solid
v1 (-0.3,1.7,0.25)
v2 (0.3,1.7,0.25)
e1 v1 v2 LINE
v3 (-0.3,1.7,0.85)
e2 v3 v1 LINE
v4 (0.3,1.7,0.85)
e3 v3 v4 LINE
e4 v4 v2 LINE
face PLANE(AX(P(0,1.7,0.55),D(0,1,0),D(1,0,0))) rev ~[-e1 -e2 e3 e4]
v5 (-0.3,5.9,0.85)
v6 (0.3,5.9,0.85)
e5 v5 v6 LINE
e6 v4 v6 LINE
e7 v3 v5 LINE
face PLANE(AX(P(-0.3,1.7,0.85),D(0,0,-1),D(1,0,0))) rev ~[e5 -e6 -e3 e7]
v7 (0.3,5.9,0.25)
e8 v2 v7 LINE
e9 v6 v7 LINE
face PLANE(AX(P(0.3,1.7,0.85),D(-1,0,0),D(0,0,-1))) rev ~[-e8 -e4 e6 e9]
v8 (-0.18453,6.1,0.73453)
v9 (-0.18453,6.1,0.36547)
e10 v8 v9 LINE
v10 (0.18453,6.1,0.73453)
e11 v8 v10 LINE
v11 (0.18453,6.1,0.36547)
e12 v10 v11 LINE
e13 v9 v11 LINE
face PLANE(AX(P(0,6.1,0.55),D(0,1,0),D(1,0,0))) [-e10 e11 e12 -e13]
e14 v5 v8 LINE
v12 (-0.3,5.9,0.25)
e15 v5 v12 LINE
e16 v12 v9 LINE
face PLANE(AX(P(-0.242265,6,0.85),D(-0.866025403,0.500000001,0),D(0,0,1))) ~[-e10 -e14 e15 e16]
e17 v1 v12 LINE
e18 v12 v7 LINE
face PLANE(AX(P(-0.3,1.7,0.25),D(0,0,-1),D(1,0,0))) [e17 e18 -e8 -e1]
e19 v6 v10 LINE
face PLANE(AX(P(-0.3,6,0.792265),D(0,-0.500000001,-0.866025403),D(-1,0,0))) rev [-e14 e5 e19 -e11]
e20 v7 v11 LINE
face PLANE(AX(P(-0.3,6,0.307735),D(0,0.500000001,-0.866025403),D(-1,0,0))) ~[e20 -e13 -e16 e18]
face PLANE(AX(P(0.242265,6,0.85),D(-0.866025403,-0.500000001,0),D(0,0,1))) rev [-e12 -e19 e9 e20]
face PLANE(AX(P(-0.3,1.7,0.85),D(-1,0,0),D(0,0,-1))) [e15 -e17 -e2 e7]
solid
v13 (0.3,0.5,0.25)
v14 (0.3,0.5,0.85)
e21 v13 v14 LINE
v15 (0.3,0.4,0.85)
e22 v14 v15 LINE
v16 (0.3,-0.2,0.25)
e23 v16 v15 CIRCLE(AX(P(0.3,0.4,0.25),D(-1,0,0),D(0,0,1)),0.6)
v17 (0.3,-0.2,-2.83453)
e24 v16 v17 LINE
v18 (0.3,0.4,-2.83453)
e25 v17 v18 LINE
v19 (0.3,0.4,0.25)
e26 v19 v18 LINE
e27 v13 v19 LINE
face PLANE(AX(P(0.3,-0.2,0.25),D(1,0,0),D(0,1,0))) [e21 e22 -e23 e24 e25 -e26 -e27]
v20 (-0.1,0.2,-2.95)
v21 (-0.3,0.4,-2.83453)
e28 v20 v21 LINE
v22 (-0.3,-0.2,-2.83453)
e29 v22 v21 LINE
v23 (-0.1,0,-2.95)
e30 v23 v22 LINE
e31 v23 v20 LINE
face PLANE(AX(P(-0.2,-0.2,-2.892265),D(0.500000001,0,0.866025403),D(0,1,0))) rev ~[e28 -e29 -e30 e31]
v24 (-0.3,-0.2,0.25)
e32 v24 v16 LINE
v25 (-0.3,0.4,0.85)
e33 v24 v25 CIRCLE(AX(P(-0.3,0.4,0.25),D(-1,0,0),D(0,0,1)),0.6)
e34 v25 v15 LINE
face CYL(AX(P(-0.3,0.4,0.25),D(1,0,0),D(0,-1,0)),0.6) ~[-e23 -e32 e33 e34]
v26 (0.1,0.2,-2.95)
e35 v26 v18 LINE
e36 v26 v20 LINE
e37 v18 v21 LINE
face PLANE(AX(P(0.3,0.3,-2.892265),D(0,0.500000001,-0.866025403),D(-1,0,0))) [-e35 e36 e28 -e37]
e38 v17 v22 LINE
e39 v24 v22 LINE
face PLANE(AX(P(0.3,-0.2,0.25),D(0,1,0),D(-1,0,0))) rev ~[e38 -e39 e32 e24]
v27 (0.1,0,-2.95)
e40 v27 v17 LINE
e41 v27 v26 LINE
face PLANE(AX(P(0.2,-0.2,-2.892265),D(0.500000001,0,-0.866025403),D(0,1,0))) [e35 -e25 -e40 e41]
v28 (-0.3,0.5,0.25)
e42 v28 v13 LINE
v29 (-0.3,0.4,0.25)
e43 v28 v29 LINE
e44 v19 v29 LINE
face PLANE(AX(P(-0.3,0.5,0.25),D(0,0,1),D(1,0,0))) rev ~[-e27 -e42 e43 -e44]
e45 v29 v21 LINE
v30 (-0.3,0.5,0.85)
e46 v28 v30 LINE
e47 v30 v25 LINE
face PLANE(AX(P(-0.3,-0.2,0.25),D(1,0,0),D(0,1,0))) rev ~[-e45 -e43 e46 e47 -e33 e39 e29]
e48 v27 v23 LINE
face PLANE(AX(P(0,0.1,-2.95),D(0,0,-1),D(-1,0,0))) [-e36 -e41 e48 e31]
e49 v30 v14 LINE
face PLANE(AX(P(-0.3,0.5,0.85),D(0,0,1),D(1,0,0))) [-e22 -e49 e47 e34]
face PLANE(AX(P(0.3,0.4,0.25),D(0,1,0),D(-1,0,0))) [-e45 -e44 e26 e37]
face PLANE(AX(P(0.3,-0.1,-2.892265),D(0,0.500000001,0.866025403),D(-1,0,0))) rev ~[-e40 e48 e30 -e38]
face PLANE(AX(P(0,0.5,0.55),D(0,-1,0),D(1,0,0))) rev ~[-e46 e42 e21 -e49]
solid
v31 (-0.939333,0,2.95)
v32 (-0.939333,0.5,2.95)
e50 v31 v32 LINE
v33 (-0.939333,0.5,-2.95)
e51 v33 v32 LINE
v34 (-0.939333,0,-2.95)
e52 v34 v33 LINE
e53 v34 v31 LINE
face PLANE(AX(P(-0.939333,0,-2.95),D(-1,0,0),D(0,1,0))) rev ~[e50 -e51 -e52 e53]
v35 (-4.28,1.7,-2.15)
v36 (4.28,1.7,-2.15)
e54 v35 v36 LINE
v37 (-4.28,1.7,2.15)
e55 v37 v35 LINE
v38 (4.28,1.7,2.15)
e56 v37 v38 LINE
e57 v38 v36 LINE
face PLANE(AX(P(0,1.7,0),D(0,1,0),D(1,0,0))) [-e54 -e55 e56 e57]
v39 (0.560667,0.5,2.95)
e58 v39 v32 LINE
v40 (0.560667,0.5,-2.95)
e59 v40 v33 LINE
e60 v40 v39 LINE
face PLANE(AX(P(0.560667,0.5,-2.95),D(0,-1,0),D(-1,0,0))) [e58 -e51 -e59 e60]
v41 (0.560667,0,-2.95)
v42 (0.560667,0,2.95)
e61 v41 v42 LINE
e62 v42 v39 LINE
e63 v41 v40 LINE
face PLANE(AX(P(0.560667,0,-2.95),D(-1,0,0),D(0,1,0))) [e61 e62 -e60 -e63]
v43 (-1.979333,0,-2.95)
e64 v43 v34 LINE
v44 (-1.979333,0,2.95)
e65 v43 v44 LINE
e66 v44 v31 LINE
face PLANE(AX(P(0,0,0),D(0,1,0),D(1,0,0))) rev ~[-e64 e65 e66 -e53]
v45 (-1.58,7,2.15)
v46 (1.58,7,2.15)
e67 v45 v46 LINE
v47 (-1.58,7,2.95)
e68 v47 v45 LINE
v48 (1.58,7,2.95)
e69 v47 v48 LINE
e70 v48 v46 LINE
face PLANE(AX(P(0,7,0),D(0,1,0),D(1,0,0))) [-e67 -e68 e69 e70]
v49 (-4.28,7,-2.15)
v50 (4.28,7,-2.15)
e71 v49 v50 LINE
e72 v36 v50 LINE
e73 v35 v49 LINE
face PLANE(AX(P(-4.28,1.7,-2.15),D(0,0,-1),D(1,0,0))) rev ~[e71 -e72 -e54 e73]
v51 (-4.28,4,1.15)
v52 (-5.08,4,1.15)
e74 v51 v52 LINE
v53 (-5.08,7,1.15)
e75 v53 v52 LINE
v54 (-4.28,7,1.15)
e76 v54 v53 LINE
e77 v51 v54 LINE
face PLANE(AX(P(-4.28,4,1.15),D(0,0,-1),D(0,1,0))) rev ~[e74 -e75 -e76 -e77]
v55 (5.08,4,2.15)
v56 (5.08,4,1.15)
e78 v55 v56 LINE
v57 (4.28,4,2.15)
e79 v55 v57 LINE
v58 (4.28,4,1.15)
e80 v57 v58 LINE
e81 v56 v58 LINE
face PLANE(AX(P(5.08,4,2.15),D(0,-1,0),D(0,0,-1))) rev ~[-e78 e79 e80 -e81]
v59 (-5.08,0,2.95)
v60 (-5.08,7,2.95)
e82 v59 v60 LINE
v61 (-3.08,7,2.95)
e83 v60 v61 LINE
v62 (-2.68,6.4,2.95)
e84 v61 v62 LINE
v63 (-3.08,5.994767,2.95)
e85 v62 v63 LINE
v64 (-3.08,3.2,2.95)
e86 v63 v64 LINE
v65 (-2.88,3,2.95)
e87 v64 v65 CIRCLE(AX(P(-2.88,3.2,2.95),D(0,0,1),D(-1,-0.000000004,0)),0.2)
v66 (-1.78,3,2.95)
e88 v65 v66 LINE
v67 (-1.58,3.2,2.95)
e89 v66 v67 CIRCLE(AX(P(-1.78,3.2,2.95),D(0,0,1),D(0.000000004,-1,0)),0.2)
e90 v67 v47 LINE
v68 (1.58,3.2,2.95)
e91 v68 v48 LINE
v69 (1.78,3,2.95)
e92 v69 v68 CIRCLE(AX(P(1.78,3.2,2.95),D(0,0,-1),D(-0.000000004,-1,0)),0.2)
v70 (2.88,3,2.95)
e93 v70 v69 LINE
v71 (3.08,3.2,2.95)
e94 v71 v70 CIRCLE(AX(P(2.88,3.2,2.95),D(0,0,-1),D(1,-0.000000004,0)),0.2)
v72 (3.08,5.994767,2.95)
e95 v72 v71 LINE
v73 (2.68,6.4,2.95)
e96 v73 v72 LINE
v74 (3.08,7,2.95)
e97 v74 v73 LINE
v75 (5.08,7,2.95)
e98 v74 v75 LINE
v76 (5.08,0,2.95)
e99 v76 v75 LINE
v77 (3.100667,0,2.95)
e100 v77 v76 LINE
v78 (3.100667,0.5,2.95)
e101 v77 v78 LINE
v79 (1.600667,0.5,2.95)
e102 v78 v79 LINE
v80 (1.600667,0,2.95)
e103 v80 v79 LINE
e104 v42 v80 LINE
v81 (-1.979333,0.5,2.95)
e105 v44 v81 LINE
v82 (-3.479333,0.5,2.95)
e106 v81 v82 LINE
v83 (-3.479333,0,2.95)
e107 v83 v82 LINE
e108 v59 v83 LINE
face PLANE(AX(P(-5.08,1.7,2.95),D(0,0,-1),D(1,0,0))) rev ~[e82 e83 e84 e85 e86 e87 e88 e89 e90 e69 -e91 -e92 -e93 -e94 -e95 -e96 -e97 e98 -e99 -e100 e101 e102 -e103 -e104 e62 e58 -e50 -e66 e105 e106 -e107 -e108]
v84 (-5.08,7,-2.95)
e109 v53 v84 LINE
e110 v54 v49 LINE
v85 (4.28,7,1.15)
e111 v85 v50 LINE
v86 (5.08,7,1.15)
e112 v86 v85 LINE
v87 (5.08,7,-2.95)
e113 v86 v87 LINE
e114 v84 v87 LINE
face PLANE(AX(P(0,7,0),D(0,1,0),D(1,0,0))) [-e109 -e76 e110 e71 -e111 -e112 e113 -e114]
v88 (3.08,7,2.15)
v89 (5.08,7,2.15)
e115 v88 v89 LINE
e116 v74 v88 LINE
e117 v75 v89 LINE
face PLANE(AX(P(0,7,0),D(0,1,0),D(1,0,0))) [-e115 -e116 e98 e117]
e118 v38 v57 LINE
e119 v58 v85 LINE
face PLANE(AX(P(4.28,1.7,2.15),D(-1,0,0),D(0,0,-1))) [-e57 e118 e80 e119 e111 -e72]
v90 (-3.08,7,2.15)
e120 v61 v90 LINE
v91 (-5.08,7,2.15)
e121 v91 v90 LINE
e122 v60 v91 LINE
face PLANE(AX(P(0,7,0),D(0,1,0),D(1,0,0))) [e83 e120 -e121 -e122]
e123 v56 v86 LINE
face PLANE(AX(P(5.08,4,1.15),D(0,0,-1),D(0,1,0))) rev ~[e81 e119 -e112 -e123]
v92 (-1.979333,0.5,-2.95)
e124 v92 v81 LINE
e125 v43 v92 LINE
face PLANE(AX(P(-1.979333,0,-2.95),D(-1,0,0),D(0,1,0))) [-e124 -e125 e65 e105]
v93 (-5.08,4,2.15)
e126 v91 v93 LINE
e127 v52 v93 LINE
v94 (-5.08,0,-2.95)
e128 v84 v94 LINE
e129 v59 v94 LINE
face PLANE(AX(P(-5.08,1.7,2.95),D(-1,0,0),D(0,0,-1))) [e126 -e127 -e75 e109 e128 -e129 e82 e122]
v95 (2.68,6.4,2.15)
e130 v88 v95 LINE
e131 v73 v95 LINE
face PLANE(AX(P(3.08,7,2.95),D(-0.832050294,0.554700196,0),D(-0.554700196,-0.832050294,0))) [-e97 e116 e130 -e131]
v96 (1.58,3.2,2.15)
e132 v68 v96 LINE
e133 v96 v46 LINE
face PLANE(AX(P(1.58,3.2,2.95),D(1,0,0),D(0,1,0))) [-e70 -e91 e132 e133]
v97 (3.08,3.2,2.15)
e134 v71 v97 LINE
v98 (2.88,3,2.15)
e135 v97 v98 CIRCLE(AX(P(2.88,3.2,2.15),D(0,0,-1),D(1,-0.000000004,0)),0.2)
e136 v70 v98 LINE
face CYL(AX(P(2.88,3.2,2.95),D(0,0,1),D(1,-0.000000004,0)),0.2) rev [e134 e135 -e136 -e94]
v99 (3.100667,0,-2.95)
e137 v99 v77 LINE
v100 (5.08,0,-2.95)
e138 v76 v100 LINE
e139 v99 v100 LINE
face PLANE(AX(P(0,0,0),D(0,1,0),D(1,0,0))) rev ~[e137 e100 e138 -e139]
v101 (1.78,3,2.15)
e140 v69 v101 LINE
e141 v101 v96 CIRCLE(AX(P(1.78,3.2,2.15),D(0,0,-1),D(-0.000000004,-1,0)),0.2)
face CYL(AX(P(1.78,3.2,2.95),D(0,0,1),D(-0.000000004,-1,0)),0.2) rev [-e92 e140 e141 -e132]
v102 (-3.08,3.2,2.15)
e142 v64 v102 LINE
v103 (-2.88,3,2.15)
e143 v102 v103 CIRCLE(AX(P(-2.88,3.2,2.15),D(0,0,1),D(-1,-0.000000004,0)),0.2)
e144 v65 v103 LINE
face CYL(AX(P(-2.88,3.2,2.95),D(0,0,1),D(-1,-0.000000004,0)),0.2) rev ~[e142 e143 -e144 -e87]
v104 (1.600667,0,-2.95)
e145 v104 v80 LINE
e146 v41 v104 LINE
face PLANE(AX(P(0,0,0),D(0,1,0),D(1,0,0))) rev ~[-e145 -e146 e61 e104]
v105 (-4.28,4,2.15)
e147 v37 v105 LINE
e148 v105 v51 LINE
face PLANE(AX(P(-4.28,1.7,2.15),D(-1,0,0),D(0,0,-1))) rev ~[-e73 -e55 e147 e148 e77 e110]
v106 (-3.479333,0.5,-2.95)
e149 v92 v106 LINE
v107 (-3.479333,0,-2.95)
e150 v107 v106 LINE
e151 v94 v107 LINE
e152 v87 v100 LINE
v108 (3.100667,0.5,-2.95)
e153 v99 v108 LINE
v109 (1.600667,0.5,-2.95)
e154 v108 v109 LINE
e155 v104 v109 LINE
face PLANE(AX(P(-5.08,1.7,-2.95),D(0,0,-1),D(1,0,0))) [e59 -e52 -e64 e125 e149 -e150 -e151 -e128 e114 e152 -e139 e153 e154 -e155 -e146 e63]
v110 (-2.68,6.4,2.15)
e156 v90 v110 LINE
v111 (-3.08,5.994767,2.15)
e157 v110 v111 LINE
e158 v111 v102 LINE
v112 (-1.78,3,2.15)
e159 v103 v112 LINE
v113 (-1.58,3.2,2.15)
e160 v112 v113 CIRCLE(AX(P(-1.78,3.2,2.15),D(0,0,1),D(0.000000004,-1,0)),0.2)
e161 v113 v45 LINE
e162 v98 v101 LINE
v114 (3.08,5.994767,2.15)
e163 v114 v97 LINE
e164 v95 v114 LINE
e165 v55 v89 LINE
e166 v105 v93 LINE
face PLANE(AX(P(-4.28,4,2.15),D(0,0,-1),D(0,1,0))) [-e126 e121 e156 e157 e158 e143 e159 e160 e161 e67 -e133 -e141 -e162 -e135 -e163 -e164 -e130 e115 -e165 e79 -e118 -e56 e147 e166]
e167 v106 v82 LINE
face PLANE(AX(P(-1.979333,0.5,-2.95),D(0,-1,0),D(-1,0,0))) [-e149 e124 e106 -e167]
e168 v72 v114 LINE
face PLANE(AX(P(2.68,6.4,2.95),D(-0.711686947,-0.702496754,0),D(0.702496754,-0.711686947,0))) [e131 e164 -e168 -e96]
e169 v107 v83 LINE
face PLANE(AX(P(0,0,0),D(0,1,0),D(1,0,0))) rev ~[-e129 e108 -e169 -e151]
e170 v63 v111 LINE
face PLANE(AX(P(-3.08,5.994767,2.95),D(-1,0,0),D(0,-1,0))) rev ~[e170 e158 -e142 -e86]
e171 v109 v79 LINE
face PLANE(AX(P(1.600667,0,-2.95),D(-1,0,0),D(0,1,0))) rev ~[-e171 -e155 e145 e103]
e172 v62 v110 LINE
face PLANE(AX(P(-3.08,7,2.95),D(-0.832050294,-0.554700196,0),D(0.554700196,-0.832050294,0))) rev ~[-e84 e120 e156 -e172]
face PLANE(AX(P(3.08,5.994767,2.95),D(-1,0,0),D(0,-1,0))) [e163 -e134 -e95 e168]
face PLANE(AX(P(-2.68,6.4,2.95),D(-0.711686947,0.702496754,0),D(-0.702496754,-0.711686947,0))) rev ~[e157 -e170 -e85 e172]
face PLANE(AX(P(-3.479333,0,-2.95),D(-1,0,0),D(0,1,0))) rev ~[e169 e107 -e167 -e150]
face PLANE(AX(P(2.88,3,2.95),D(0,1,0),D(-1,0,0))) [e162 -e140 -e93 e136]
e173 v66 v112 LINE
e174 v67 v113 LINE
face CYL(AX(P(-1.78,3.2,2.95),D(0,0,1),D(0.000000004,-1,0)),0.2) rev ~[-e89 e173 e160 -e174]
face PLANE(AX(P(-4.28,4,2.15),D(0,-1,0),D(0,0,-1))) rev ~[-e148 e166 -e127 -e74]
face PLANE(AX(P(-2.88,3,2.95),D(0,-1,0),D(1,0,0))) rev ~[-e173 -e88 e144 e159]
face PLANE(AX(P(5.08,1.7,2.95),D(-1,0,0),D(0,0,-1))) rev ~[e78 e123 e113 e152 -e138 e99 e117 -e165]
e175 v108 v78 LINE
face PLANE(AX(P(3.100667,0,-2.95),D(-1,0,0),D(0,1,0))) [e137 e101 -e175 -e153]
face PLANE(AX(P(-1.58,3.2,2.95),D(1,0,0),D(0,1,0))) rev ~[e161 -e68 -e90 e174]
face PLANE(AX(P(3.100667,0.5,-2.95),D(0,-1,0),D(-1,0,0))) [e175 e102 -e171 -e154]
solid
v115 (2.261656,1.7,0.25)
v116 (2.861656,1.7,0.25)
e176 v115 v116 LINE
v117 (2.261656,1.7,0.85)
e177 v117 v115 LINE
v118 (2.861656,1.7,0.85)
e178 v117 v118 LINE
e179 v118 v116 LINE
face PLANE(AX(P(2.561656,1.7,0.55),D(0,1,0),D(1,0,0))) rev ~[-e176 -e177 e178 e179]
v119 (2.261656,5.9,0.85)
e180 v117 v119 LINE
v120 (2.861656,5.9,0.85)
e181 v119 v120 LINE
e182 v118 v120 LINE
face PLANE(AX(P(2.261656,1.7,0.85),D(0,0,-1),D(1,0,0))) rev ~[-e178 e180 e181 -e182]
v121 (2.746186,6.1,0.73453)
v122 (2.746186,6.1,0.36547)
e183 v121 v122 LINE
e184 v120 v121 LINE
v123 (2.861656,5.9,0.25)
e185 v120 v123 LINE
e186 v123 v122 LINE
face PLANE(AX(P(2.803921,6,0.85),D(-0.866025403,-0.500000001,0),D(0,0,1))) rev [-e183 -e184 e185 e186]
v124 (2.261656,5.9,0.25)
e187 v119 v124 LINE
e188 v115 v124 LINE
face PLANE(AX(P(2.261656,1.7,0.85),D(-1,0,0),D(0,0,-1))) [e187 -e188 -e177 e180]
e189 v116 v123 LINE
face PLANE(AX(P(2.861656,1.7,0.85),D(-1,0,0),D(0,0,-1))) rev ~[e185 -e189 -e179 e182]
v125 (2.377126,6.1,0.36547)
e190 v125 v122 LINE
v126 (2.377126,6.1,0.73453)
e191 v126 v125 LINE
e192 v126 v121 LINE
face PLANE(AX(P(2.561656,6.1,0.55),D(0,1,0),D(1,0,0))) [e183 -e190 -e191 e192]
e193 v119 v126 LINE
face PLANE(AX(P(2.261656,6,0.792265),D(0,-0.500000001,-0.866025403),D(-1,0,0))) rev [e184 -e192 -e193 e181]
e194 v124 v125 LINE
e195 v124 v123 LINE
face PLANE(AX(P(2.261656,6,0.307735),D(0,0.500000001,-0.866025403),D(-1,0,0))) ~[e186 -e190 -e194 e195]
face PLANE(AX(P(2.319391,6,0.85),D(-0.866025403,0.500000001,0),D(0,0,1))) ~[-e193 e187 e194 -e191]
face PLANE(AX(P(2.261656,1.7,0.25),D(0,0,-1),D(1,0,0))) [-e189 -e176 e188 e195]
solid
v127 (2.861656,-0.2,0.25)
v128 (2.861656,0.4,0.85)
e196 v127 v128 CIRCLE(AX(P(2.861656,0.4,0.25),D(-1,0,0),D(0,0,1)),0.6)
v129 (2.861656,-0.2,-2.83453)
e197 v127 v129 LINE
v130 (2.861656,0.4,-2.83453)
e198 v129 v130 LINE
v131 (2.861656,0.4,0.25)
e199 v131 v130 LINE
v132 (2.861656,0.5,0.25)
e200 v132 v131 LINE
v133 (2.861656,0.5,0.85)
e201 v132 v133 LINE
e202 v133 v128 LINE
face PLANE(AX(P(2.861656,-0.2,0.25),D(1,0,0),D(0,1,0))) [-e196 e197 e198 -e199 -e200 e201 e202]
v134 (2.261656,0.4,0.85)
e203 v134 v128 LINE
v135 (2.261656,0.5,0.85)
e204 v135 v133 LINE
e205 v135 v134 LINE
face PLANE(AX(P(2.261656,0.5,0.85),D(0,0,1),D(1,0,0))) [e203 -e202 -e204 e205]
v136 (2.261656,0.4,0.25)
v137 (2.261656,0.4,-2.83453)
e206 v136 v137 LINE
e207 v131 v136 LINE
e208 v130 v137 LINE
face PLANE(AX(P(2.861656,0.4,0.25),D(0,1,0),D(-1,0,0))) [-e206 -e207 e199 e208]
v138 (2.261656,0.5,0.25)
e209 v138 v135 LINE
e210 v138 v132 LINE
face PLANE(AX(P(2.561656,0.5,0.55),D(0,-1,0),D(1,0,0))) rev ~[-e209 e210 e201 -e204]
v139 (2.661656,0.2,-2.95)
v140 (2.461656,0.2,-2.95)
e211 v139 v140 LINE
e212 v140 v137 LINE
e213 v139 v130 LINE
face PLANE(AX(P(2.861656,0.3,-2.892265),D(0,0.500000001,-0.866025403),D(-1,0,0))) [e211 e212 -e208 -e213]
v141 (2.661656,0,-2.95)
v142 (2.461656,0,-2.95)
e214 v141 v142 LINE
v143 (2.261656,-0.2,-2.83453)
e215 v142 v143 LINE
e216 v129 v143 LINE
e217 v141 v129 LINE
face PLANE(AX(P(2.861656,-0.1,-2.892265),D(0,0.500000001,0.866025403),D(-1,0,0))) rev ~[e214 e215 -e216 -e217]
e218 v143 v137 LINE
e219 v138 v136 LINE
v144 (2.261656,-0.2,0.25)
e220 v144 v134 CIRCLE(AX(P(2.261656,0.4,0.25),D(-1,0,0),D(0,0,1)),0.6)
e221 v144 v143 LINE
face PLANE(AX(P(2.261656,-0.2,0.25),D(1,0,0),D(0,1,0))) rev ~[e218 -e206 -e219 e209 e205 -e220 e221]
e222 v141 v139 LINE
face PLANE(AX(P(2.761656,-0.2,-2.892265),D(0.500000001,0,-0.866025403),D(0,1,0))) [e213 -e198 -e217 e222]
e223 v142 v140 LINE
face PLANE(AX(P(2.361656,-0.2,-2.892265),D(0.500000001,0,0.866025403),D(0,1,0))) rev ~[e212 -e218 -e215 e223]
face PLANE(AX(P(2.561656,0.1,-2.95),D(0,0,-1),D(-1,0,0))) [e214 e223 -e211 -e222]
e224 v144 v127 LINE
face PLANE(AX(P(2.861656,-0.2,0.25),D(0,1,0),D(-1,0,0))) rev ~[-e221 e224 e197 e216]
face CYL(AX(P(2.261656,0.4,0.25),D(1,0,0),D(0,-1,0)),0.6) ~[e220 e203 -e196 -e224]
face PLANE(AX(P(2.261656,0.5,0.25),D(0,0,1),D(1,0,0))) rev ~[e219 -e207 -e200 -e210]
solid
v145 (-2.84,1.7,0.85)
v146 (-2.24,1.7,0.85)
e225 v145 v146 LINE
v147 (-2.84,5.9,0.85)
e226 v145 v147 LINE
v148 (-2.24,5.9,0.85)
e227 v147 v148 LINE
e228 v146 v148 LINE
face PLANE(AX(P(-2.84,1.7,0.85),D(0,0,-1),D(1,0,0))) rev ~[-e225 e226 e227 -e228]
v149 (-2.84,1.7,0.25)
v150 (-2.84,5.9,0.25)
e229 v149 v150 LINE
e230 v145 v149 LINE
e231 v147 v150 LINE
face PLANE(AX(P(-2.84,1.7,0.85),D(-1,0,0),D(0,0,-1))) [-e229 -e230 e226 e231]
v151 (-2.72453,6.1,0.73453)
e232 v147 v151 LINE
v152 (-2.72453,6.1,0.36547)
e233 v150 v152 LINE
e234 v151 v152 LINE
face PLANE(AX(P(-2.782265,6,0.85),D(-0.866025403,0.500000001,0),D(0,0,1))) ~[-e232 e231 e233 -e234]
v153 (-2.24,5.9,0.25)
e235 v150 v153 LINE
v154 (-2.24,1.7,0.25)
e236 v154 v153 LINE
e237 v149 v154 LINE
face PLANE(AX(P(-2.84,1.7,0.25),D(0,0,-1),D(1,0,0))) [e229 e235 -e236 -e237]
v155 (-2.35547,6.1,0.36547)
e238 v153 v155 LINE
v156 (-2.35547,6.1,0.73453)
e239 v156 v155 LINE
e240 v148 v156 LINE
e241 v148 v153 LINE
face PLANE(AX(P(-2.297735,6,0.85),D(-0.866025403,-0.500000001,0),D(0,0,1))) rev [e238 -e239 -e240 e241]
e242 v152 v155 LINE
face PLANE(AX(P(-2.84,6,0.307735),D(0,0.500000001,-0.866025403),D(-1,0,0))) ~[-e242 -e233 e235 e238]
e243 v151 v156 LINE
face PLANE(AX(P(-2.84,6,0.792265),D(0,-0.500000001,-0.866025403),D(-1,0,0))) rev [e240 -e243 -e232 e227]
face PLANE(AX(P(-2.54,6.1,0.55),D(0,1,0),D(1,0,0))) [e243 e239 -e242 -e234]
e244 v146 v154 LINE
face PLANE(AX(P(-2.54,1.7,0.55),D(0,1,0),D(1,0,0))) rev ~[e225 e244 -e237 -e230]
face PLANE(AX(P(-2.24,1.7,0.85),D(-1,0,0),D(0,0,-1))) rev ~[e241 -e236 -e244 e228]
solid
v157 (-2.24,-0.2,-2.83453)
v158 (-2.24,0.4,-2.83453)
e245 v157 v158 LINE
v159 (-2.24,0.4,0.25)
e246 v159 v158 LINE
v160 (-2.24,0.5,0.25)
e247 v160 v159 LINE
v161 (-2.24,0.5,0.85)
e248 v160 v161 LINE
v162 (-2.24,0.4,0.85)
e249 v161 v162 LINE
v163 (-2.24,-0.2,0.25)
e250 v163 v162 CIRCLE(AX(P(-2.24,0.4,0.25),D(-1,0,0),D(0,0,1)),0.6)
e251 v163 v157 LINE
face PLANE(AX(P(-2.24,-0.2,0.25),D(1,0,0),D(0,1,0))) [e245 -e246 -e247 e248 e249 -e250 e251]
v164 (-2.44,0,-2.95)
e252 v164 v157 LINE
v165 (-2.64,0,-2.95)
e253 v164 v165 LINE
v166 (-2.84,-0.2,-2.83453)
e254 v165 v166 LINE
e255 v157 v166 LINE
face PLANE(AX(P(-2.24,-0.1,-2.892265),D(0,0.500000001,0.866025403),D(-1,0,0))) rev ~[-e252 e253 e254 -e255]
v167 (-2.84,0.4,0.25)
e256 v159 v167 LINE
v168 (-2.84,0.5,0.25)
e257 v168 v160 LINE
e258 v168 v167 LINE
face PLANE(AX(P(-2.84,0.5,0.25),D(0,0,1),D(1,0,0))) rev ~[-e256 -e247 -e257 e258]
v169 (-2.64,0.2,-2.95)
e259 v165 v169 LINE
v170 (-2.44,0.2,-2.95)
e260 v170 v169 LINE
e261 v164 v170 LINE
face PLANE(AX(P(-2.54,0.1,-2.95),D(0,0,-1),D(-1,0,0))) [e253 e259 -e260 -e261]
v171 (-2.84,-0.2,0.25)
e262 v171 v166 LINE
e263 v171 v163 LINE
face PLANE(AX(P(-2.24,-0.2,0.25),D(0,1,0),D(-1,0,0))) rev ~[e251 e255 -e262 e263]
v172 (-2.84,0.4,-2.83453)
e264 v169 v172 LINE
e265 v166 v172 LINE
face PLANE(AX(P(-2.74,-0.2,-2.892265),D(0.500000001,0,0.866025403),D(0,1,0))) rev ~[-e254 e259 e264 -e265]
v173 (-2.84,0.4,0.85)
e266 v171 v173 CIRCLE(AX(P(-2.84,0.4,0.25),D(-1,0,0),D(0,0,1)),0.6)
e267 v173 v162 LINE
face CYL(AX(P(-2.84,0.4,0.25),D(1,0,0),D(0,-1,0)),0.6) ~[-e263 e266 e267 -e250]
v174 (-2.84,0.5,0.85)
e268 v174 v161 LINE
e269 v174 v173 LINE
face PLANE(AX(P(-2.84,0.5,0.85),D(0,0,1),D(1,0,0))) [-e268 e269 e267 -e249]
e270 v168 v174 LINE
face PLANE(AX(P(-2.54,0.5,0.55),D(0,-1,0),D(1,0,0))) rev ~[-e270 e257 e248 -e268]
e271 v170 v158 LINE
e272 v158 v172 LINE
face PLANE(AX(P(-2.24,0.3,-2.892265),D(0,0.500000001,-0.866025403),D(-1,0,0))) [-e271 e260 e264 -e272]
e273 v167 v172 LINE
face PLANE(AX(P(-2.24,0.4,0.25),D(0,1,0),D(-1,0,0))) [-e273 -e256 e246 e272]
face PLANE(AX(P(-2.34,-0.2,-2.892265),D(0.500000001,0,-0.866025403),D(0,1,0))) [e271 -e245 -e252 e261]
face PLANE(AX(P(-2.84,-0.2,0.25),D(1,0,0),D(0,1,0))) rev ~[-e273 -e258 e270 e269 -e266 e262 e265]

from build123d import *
from OCP.BRepFilletAPI import BRepFilletAPI_MakeChamfer

# Parameters (mm, degrees)
SKETCH2_W             = 10.16
SKETCH2_H             = 5.9
BOSS_EXTRUDE1_DEPTH   = 1.7
SKETCH3_W             = 10.16
SKETCH3_H             = 5.9
SKETCH3_W_2           = 8.56
SKETCH3_H_2           = 4.3
BOSS_EXTRUDE2_DEPTH   = 5.3
SKETCH4_W             = 0.6
SKETCH4_H             = 0.6
BOSS_EXTRUDE3_DEPTH   = 4.4
BOSS_EXTRUDE3_2_DEPTH = 4.4
BOSS_EXTRUDE3_3_DEPTH = 4.4
CHAMFER1_SIZE         = 0.2
CHAMFER1_SIZE2        = 0.115470054
CHAMFER2_SIZE         = 0.2
CHAMFER2_SIZE2        = 0.115470054
CHAMFER3_SIZE         = 0.2
CHAMFER3_SIZE2        = 0.115470054
SKETCH5_W             = 1
SKETCH5_H             = 3
CUT_EXTRUDE1_DEPTH    = 0.8
SKETCH6_W             = 1
SKETCH6_H             = 3
CUT_EXTRUDE2_DEPTH    = 3.3
CUT_EXTRUDE3_DEPTH    = 0.8
SKETCH8_W             = 1.5
SKETCH8_H             = 0.5
CUT_EXTRUDE4_DEPTH    = 6.3
SKETCH9_W             = 0.6
SKETCH9_H             = 0.6
BOSS_EXTRUDE4_DEPTH   = 0.7
BOSS_EXTRUDE4_2_DEPTH = 0.7
BOSS_EXTRUDE4_3_DEPTH = 0.7
SKETCH13_W            = 0.6
SKETCH13_H            = 0.6
BOSS_EXTRUDE5_DEPTH   = 3.2
FILLET1_R             = 0.6
CHAMFER4_SIZE         = 0.2
CHAMFER4_SIZE2        = 0.115470054
CHAMFER5_SIZE         = 0.2
CHAMFER5_SIZE2        = 0.115470054
CHAMFER6_SIZE         = 0.2
CHAMFER6_SIZE2        = 0.115470054
FILLET2_R             = 0.6
FILLET3_R             = 0.6


with BuildPart() as part:
    # Sketch2 → Boss-Extrude1 (new body)
    with BuildSketch(Plane(origin=(0, 0, 0), x_dir=(1, 0, 0), z_dir=(0, 1, 0))):
        Rectangle(SKETCH2_W, SKETCH2_H)
    extrude(amount=BOSS_EXTRUDE1_DEPTH)

    # Sketch3 → Boss-Extrude2 (add)
    with BuildSketch(Plane(origin=(0, 1.7, 0), x_dir=(1, 0, 0), z_dir=(0, 1, 0))):
        Rectangle(SKETCH3_W, SKETCH3_H)
        Rectangle(SKETCH3_W_2, SKETCH3_H_2, mode=Mode.SUBTRACT)
    extrude(amount=BOSS_EXTRUDE2_DEPTH)

    # Sketch5 → Cut-Extrude1 (cut)
    with BuildSketch(Plane(origin=(5.08, 0, 0), x_dir=(0, 0, -1), z_dir=(1, 0, 0))):
        with Locations((-1.65, 5.5)):
            Rectangle(SKETCH5_W, SKETCH5_H)
    extrude(amount=-CUT_EXTRUDE1_DEPTH, mode=Mode.SUBTRACT)

    # Sketch6 → Cut-Extrude2 (cut)
    with BuildSketch(Plane(origin=(-4.28, 0, 0), x_dir=(0, 0, -1), z_dir=(1, 0, 0))):
        with Locations((-1.65, 5.5)):
            Rectangle(SKETCH6_W, SKETCH6_H)
    extrude(amount=-CUT_EXTRUDE2_DEPTH, mode=Mode.SUBTRACT)

    # Sketch7 → Cut-Extrude3 (cut)
    with BuildSketch(Plane.XY.offset(2.95)):
        with BuildLine():
            Line((-3.08, 7), (-2.68, 6.4))
            Line((-2.68, 6.4), (-3.08, 5.994767126))
            Line((-3.08, 5.994767126), (-3.08, 3.2))
            ThreePointArc((-3.08, 3.2), (-3.021421356, 3.058578644), (-2.88, 3))
            Line((-2.88, 3), (-1.78, 3))
            ThreePointArc((-1.78, 3), (-1.638578644, 3.058578644), (-1.58, 3.2))
            Line((-1.58, 3.2), (-1.58, 7))
            Line((-1.58, 7), (-3.08, 7))
        make_face()
        with BuildLine():
            Line((1.58, 7), (3.08, 7))
            Line((3.08, 7), (2.68, 6.4))
            Line((2.68, 6.4), (3.08, 5.994767126))
            Line((3.08, 5.994767126), (3.08, 3.2))
            ThreePointArc((3.08, 3.2), (3.021421356, 3.058578644), (2.88, 3))
            Line((2.88, 3), (1.78, 3))
            ThreePointArc((1.78, 3), (1.638578644, 3.058578644), (1.58, 3.2))
            Line((1.58, 3.2), (1.58, 7))
        make_face()
    extrude(amount=-CUT_EXTRUDE3_DEPTH, mode=Mode.SUBTRACT)

    # Sketch8 → Cut-Extrude4 (cut)
    with BuildSketch(Plane(origin=(0, 0, -2.95), x_dir=(-1, 0, 0), z_dir=(0, 0, -1))):
        with Locations((0.189333309, 0.25)):
            Rectangle(SKETCH8_W, SKETCH8_H)
        with Locations((2.729333309, 0.25)):
            Rectangle(SKETCH8_W, SKETCH8_H)
        with Locations((-2.350666691, 0.25)):
            Rectangle(SKETCH8_W, SKETCH8_H)
    extrude(amount=-CUT_EXTRUDE4_DEPTH, mode=Mode.SUBTRACT)


with BuildPart() as body_2:
    # Sketch4 → Boss-Extrude3 (new body)
    with BuildSketch(Plane(origin=(0, 1.7, 0), x_dir=(1, 0, 0), z_dir=(0, 1, 0))):
        with Locations((0, -0.55)):
            Rectangle(SKETCH4_W, SKETCH4_H)
    extrude(amount=BOSS_EXTRUDE3_DEPTH)

    # Chamfer2: one chamfer whose edges measure the first distance from different faces: ONE call of the kernel's chamfer builder (chamfer() names one face for all edges)
    chamfer2_edges_1 = [body_2.edges().sort_by_distance(p)[0] for p in [
        (-0.3, 6.1, 0.55),
    ]]
    chamfer2_side_1 = [body_2.faces().sort_by_distance(p)[0] for p in [
        (-0.3, 3.9, 0.55),
    ]]
    chamfer2_edges_2 = [body_2.edges().sort_by_distance(p)[0] for p in [
        (0, 6.1, 0.85),
    ]]
    chamfer2_side_2 = [body_2.faces().sort_by_distance(p)[0] for p in [
        (0, 3.9, 0.85),
    ]]
    chamfer2_edges_3 = [body_2.edges().sort_by_distance(p)[0] for p in [
        (0.3, 6.1, 0.55),
    ]]
    chamfer2_side_3 = [body_2.faces().sort_by_distance(p)[0] for p in [
        (0.3, 3.9, 0.55),
    ]]
    chamfer2_edges_4 = [body_2.edges().sort_by_distance(p)[0] for p in [
        (0, 6.1, 0.25),
    ]]
    chamfer2_side_4 = [body_2.faces().sort_by_distance(p)[0] for p in [
        (0, 3.9, 0.25),
    ]]
    chamfer2 = BRepFilletAPI_MakeChamfer(body_2.part.solid().wrapped)
    for e in chamfer2_edges_1:
        chamfer2.Add(CHAMFER2_SIZE, CHAMFER2_SIZE2, e.wrapped, chamfer2_side_1[0].wrapped)  # the first distance lies on this face
    for e in chamfer2_edges_2:
        chamfer2.Add(CHAMFER2_SIZE, CHAMFER2_SIZE2, e.wrapped, chamfer2_side_2[0].wrapped)  # the first distance lies on this face
    for e in chamfer2_edges_3:
        chamfer2.Add(CHAMFER2_SIZE, CHAMFER2_SIZE2, e.wrapped, chamfer2_side_3[0].wrapped)  # the first distance lies on this face
    for e in chamfer2_edges_4:
        chamfer2.Add(CHAMFER2_SIZE, CHAMFER2_SIZE2, e.wrapped, chamfer2_side_4[0].wrapped)  # the first distance lies on this face
    add(Compound.cast(chamfer2.Shape()), mode=Mode.REPLACE)


with BuildPart() as body_3:
    # Sketch4 → Boss-Extrude3 2 (new body)
    with BuildSketch(Plane(origin=(0, 1.7, 0), x_dir=(1, 0, 0), z_dir=(0, 1, 0))):
        with Locations((2.561655677, -0.55)):
            Rectangle(SKETCH4_W, SKETCH4_H)
    extrude(amount=BOSS_EXTRUDE3_2_DEPTH)

    # Chamfer3: one chamfer whose edges measure the first distance from different faces: ONE call of the kernel's chamfer builder (chamfer() names one face for all edges)
    chamfer3_edges_1 = [body_3.edges().sort_by_distance(p)[0] for p in [
        (2.261655677, 6.1, 0.55),
    ]]
    chamfer3_side_1 = [body_3.faces().sort_by_distance(p)[0] for p in [
        (2.261655677, 3.9, 0.55),
    ]]
    chamfer3_edges_2 = [body_3.edges().sort_by_distance(p)[0] for p in [
        (2.561655677, 6.1, 0.85),
    ]]
    chamfer3_side_2 = [body_3.faces().sort_by_distance(p)[0] for p in [
        (2.561655677, 3.9, 0.85),
    ]]
    chamfer3_edges_3 = [body_3.edges().sort_by_distance(p)[0] for p in [
        (2.861655677, 6.1, 0.55),
    ]]
    chamfer3_side_3 = [body_3.faces().sort_by_distance(p)[0] for p in [
        (2.861655677, 3.9, 0.55),
    ]]
    chamfer3_edges_4 = [body_3.edges().sort_by_distance(p)[0] for p in [
        (2.561655677, 6.1, 0.25),
    ]]
    chamfer3_side_4 = [body_3.faces().sort_by_distance(p)[0] for p in [
        (2.561655677, 3.9, 0.25),
    ]]
    chamfer3 = BRepFilletAPI_MakeChamfer(body_3.part.solid().wrapped)
    for e in chamfer3_edges_1:
        chamfer3.Add(CHAMFER3_SIZE, CHAMFER3_SIZE2, e.wrapped, chamfer3_side_1[0].wrapped)  # the first distance lies on this face
    for e in chamfer3_edges_2:
        chamfer3.Add(CHAMFER3_SIZE, CHAMFER3_SIZE2, e.wrapped, chamfer3_side_2[0].wrapped)  # the first distance lies on this face
    for e in chamfer3_edges_3:
        chamfer3.Add(CHAMFER3_SIZE, CHAMFER3_SIZE2, e.wrapped, chamfer3_side_3[0].wrapped)  # the first distance lies on this face
    for e in chamfer3_edges_4:
        chamfer3.Add(CHAMFER3_SIZE, CHAMFER3_SIZE2, e.wrapped, chamfer3_side_4[0].wrapped)  # the first distance lies on this face
    add(Compound.cast(chamfer3.Shape()), mode=Mode.REPLACE)


with BuildPart() as body_4:
    # Sketch4 → Boss-Extrude3 3 (new body)
    with BuildSketch(Plane(origin=(0, 1.7, 0), x_dir=(1, 0, 0), z_dir=(0, 1, 0))):
        with Locations((-2.54, -0.55)):
            Rectangle(SKETCH4_W, SKETCH4_H)
    extrude(amount=BOSS_EXTRUDE3_3_DEPTH)

    # Chamfer1: one chamfer whose edges measure the first distance from different faces: ONE call of the kernel's chamfer builder (chamfer() names one face for all edges)
    chamfer1_edges_1 = [body_4.edges().sort_by_distance(p)[0] for p in [
        (-2.84, 6.1, 0.55),
    ]]
    chamfer1_side_1 = [body_4.faces().sort_by_distance(p)[0] for p in [
        (-2.84, 3.9, 0.55),
    ]]
    chamfer1_edges_2 = [body_4.edges().sort_by_distance(p)[0] for p in [
        (-2.54, 6.1, 0.85),
    ]]
    chamfer1_side_2 = [body_4.faces().sort_by_distance(p)[0] for p in [
        (-2.54, 3.9, 0.85),
    ]]
    chamfer1_edges_3 = [body_4.edges().sort_by_distance(p)[0] for p in [
        (-2.24, 6.1, 0.55),
    ]]
    chamfer1_side_3 = [body_4.faces().sort_by_distance(p)[0] for p in [
        (-2.24, 3.9, 0.55),
    ]]
    chamfer1_edges_4 = [body_4.edges().sort_by_distance(p)[0] for p in [
        (-2.54, 6.1, 0.25),
    ]]
    chamfer1_side_4 = [body_4.faces().sort_by_distance(p)[0] for p in [
        (-2.54, 3.9, 0.25),
    ]]
    chamfer1 = BRepFilletAPI_MakeChamfer(body_4.part.solid().wrapped)
    for e in chamfer1_edges_1:
        chamfer1.Add(CHAMFER1_SIZE, CHAMFER1_SIZE2, e.wrapped, chamfer1_side_1[0].wrapped)  # the first distance lies on this face
    for e in chamfer1_edges_2:
        chamfer1.Add(CHAMFER1_SIZE, CHAMFER1_SIZE2, e.wrapped, chamfer1_side_2[0].wrapped)  # the first distance lies on this face
    for e in chamfer1_edges_3:
        chamfer1.Add(CHAMFER1_SIZE, CHAMFER1_SIZE2, e.wrapped, chamfer1_side_3[0].wrapped)  # the first distance lies on this face
    for e in chamfer1_edges_4:
        chamfer1.Add(CHAMFER1_SIZE, CHAMFER1_SIZE2, e.wrapped, chamfer1_side_4[0].wrapped)  # the first distance lies on this face
    add(Compound.cast(chamfer1.Shape()), mode=Mode.REPLACE)


with BuildPart() as body_5:
    # Sketch9 → Boss-Extrude4 (new body)
    with BuildSketch(Plane.XZ.offset(-0.5)):
        with Locations((-2.54, 0.55)):
            Rectangle(SKETCH9_W, SKETCH9_H)
    extrude(amount=BOSS_EXTRUDE4_DEPTH)



with BuildPart() as body_6:
    # Sketch9 → Boss-Extrude4 2 (new body)
    with BuildSketch(Plane.XZ.offset(-0.5)):
        with Locations((0, 0.55)):
            Rectangle(SKETCH9_W, SKETCH9_H)
    extrude(amount=BOSS_EXTRUDE4_2_DEPTH)


with BuildPart() as body_7:
    # Sketch9 → Boss-Extrude4 3 (new body)
    with BuildSketch(Plane.XZ.offset(-0.5)):
        with Locations((2.561655677, 0.55)):
            Rectangle(SKETCH9_W, SKETCH9_H)
    extrude(amount=BOSS_EXTRUDE4_3_DEPTH)


with BuildPart() as body_5_1:
    add(body_5.part)

    add(body_6.part)  # Boss-Extrude5 merges body 6

    add(body_7.part)  # Boss-Extrude5 merges body 7
    # Sketch13 → Boss-Extrude5 (add)
    with BuildSketch(Plane(origin=(0, 0, 0.25), x_dir=(-1, 0, 0), z_dir=(0, 0, -1))):
        with Locations((-2.561655677, 0.1)):
            Rectangle(SKETCH13_W, SKETCH13_H)
        with Locations((0, 0.1)):
            Rectangle(SKETCH13_W, SKETCH13_H)
        with Locations((2.54, 0.1)):
            Rectangle(SKETCH13_W, SKETCH13_H)
    extrude(amount=BOSS_EXTRUDE5_DEPTH)

    # Fillet1
    fillet1_edges = [body_5_1.edges().sort_by_distance(p)[0] for p in [
        (2.561655677, -0.2, 0.85),
    ]]
    fillet(fillet1_edges, radius=FILLET1_R)

    # Chamfer4
    chamfer4_edges = [body_5_1.edges().sort_by_distance(p)[0] for p in [
        (2.561655677, 0.4, -2.95),
        (2.261655677, 0.1, -2.95),
        (2.561655677, -0.2, -2.95),
        (2.861655677, 0.1, -2.95),
    ]]
    chamfer4_side = [body_5_1.faces().sort_by_distance(p)[0] for p in [
        (2.561655677, 0.1, -2.95),
    ]]
    chamfer(chamfer4_edges, length=CHAMFER4_SIZE, length2=CHAMFER4_SIZE2, reference=chamfer4_side[0])

    # Chamfer5
    chamfer5_edges = [body_5_1.edges().sort_by_distance(p)[0] for p in [
        (0, 0.4, -2.95),
        (-0.3, 0.1, -2.95),
        (0, -0.2, -2.95),
        (0.3, 0.1, -2.95),
    ]]
    chamfer5_side = [body_5_1.faces().sort_by_distance(p)[0] for p in [
        (0, 0.1, -2.95),
    ]]
    chamfer(chamfer5_edges, length=CHAMFER5_SIZE, length2=CHAMFER5_SIZE2, reference=chamfer5_side[0])

    # Chamfer6
    chamfer6_edges = [body_5_1.edges().sort_by_distance(p)[0] for p in [
        (-2.54, 0.4, -2.95),
        (-2.84, 0.1, -2.95),
        (-2.54, -0.2, -2.95),
        (-2.24, 0.1, -2.95),
    ]]
    chamfer6_side = [body_5_1.faces().sort_by_distance(p)[0] for p in [
        (-2.54, 0.1, -2.95),
    ]]
    chamfer(chamfer6_edges, length=CHAMFER6_SIZE, length2=CHAMFER6_SIZE2, reference=chamfer6_side[0])

    # Fillet2
    fillet2_edges = [body_5_1.edges().sort_by_distance(p)[0] for p in [
        (0, -0.2, 0.85),
    ]]
    fillet(fillet2_edges, radius=FILLET2_R)

    # Fillet3
    fillet3_edges = [body_5_1.edges().sort_by_distance(p)[0] for p in [
        (-2.54, -0.2, 0.85),
    ]]
    fillet(fillet3_edges, radius=FILLET3_R)


solid = Compound([part.part, body_2.part, body_3.part, body_4.part, body_5_1.part])
